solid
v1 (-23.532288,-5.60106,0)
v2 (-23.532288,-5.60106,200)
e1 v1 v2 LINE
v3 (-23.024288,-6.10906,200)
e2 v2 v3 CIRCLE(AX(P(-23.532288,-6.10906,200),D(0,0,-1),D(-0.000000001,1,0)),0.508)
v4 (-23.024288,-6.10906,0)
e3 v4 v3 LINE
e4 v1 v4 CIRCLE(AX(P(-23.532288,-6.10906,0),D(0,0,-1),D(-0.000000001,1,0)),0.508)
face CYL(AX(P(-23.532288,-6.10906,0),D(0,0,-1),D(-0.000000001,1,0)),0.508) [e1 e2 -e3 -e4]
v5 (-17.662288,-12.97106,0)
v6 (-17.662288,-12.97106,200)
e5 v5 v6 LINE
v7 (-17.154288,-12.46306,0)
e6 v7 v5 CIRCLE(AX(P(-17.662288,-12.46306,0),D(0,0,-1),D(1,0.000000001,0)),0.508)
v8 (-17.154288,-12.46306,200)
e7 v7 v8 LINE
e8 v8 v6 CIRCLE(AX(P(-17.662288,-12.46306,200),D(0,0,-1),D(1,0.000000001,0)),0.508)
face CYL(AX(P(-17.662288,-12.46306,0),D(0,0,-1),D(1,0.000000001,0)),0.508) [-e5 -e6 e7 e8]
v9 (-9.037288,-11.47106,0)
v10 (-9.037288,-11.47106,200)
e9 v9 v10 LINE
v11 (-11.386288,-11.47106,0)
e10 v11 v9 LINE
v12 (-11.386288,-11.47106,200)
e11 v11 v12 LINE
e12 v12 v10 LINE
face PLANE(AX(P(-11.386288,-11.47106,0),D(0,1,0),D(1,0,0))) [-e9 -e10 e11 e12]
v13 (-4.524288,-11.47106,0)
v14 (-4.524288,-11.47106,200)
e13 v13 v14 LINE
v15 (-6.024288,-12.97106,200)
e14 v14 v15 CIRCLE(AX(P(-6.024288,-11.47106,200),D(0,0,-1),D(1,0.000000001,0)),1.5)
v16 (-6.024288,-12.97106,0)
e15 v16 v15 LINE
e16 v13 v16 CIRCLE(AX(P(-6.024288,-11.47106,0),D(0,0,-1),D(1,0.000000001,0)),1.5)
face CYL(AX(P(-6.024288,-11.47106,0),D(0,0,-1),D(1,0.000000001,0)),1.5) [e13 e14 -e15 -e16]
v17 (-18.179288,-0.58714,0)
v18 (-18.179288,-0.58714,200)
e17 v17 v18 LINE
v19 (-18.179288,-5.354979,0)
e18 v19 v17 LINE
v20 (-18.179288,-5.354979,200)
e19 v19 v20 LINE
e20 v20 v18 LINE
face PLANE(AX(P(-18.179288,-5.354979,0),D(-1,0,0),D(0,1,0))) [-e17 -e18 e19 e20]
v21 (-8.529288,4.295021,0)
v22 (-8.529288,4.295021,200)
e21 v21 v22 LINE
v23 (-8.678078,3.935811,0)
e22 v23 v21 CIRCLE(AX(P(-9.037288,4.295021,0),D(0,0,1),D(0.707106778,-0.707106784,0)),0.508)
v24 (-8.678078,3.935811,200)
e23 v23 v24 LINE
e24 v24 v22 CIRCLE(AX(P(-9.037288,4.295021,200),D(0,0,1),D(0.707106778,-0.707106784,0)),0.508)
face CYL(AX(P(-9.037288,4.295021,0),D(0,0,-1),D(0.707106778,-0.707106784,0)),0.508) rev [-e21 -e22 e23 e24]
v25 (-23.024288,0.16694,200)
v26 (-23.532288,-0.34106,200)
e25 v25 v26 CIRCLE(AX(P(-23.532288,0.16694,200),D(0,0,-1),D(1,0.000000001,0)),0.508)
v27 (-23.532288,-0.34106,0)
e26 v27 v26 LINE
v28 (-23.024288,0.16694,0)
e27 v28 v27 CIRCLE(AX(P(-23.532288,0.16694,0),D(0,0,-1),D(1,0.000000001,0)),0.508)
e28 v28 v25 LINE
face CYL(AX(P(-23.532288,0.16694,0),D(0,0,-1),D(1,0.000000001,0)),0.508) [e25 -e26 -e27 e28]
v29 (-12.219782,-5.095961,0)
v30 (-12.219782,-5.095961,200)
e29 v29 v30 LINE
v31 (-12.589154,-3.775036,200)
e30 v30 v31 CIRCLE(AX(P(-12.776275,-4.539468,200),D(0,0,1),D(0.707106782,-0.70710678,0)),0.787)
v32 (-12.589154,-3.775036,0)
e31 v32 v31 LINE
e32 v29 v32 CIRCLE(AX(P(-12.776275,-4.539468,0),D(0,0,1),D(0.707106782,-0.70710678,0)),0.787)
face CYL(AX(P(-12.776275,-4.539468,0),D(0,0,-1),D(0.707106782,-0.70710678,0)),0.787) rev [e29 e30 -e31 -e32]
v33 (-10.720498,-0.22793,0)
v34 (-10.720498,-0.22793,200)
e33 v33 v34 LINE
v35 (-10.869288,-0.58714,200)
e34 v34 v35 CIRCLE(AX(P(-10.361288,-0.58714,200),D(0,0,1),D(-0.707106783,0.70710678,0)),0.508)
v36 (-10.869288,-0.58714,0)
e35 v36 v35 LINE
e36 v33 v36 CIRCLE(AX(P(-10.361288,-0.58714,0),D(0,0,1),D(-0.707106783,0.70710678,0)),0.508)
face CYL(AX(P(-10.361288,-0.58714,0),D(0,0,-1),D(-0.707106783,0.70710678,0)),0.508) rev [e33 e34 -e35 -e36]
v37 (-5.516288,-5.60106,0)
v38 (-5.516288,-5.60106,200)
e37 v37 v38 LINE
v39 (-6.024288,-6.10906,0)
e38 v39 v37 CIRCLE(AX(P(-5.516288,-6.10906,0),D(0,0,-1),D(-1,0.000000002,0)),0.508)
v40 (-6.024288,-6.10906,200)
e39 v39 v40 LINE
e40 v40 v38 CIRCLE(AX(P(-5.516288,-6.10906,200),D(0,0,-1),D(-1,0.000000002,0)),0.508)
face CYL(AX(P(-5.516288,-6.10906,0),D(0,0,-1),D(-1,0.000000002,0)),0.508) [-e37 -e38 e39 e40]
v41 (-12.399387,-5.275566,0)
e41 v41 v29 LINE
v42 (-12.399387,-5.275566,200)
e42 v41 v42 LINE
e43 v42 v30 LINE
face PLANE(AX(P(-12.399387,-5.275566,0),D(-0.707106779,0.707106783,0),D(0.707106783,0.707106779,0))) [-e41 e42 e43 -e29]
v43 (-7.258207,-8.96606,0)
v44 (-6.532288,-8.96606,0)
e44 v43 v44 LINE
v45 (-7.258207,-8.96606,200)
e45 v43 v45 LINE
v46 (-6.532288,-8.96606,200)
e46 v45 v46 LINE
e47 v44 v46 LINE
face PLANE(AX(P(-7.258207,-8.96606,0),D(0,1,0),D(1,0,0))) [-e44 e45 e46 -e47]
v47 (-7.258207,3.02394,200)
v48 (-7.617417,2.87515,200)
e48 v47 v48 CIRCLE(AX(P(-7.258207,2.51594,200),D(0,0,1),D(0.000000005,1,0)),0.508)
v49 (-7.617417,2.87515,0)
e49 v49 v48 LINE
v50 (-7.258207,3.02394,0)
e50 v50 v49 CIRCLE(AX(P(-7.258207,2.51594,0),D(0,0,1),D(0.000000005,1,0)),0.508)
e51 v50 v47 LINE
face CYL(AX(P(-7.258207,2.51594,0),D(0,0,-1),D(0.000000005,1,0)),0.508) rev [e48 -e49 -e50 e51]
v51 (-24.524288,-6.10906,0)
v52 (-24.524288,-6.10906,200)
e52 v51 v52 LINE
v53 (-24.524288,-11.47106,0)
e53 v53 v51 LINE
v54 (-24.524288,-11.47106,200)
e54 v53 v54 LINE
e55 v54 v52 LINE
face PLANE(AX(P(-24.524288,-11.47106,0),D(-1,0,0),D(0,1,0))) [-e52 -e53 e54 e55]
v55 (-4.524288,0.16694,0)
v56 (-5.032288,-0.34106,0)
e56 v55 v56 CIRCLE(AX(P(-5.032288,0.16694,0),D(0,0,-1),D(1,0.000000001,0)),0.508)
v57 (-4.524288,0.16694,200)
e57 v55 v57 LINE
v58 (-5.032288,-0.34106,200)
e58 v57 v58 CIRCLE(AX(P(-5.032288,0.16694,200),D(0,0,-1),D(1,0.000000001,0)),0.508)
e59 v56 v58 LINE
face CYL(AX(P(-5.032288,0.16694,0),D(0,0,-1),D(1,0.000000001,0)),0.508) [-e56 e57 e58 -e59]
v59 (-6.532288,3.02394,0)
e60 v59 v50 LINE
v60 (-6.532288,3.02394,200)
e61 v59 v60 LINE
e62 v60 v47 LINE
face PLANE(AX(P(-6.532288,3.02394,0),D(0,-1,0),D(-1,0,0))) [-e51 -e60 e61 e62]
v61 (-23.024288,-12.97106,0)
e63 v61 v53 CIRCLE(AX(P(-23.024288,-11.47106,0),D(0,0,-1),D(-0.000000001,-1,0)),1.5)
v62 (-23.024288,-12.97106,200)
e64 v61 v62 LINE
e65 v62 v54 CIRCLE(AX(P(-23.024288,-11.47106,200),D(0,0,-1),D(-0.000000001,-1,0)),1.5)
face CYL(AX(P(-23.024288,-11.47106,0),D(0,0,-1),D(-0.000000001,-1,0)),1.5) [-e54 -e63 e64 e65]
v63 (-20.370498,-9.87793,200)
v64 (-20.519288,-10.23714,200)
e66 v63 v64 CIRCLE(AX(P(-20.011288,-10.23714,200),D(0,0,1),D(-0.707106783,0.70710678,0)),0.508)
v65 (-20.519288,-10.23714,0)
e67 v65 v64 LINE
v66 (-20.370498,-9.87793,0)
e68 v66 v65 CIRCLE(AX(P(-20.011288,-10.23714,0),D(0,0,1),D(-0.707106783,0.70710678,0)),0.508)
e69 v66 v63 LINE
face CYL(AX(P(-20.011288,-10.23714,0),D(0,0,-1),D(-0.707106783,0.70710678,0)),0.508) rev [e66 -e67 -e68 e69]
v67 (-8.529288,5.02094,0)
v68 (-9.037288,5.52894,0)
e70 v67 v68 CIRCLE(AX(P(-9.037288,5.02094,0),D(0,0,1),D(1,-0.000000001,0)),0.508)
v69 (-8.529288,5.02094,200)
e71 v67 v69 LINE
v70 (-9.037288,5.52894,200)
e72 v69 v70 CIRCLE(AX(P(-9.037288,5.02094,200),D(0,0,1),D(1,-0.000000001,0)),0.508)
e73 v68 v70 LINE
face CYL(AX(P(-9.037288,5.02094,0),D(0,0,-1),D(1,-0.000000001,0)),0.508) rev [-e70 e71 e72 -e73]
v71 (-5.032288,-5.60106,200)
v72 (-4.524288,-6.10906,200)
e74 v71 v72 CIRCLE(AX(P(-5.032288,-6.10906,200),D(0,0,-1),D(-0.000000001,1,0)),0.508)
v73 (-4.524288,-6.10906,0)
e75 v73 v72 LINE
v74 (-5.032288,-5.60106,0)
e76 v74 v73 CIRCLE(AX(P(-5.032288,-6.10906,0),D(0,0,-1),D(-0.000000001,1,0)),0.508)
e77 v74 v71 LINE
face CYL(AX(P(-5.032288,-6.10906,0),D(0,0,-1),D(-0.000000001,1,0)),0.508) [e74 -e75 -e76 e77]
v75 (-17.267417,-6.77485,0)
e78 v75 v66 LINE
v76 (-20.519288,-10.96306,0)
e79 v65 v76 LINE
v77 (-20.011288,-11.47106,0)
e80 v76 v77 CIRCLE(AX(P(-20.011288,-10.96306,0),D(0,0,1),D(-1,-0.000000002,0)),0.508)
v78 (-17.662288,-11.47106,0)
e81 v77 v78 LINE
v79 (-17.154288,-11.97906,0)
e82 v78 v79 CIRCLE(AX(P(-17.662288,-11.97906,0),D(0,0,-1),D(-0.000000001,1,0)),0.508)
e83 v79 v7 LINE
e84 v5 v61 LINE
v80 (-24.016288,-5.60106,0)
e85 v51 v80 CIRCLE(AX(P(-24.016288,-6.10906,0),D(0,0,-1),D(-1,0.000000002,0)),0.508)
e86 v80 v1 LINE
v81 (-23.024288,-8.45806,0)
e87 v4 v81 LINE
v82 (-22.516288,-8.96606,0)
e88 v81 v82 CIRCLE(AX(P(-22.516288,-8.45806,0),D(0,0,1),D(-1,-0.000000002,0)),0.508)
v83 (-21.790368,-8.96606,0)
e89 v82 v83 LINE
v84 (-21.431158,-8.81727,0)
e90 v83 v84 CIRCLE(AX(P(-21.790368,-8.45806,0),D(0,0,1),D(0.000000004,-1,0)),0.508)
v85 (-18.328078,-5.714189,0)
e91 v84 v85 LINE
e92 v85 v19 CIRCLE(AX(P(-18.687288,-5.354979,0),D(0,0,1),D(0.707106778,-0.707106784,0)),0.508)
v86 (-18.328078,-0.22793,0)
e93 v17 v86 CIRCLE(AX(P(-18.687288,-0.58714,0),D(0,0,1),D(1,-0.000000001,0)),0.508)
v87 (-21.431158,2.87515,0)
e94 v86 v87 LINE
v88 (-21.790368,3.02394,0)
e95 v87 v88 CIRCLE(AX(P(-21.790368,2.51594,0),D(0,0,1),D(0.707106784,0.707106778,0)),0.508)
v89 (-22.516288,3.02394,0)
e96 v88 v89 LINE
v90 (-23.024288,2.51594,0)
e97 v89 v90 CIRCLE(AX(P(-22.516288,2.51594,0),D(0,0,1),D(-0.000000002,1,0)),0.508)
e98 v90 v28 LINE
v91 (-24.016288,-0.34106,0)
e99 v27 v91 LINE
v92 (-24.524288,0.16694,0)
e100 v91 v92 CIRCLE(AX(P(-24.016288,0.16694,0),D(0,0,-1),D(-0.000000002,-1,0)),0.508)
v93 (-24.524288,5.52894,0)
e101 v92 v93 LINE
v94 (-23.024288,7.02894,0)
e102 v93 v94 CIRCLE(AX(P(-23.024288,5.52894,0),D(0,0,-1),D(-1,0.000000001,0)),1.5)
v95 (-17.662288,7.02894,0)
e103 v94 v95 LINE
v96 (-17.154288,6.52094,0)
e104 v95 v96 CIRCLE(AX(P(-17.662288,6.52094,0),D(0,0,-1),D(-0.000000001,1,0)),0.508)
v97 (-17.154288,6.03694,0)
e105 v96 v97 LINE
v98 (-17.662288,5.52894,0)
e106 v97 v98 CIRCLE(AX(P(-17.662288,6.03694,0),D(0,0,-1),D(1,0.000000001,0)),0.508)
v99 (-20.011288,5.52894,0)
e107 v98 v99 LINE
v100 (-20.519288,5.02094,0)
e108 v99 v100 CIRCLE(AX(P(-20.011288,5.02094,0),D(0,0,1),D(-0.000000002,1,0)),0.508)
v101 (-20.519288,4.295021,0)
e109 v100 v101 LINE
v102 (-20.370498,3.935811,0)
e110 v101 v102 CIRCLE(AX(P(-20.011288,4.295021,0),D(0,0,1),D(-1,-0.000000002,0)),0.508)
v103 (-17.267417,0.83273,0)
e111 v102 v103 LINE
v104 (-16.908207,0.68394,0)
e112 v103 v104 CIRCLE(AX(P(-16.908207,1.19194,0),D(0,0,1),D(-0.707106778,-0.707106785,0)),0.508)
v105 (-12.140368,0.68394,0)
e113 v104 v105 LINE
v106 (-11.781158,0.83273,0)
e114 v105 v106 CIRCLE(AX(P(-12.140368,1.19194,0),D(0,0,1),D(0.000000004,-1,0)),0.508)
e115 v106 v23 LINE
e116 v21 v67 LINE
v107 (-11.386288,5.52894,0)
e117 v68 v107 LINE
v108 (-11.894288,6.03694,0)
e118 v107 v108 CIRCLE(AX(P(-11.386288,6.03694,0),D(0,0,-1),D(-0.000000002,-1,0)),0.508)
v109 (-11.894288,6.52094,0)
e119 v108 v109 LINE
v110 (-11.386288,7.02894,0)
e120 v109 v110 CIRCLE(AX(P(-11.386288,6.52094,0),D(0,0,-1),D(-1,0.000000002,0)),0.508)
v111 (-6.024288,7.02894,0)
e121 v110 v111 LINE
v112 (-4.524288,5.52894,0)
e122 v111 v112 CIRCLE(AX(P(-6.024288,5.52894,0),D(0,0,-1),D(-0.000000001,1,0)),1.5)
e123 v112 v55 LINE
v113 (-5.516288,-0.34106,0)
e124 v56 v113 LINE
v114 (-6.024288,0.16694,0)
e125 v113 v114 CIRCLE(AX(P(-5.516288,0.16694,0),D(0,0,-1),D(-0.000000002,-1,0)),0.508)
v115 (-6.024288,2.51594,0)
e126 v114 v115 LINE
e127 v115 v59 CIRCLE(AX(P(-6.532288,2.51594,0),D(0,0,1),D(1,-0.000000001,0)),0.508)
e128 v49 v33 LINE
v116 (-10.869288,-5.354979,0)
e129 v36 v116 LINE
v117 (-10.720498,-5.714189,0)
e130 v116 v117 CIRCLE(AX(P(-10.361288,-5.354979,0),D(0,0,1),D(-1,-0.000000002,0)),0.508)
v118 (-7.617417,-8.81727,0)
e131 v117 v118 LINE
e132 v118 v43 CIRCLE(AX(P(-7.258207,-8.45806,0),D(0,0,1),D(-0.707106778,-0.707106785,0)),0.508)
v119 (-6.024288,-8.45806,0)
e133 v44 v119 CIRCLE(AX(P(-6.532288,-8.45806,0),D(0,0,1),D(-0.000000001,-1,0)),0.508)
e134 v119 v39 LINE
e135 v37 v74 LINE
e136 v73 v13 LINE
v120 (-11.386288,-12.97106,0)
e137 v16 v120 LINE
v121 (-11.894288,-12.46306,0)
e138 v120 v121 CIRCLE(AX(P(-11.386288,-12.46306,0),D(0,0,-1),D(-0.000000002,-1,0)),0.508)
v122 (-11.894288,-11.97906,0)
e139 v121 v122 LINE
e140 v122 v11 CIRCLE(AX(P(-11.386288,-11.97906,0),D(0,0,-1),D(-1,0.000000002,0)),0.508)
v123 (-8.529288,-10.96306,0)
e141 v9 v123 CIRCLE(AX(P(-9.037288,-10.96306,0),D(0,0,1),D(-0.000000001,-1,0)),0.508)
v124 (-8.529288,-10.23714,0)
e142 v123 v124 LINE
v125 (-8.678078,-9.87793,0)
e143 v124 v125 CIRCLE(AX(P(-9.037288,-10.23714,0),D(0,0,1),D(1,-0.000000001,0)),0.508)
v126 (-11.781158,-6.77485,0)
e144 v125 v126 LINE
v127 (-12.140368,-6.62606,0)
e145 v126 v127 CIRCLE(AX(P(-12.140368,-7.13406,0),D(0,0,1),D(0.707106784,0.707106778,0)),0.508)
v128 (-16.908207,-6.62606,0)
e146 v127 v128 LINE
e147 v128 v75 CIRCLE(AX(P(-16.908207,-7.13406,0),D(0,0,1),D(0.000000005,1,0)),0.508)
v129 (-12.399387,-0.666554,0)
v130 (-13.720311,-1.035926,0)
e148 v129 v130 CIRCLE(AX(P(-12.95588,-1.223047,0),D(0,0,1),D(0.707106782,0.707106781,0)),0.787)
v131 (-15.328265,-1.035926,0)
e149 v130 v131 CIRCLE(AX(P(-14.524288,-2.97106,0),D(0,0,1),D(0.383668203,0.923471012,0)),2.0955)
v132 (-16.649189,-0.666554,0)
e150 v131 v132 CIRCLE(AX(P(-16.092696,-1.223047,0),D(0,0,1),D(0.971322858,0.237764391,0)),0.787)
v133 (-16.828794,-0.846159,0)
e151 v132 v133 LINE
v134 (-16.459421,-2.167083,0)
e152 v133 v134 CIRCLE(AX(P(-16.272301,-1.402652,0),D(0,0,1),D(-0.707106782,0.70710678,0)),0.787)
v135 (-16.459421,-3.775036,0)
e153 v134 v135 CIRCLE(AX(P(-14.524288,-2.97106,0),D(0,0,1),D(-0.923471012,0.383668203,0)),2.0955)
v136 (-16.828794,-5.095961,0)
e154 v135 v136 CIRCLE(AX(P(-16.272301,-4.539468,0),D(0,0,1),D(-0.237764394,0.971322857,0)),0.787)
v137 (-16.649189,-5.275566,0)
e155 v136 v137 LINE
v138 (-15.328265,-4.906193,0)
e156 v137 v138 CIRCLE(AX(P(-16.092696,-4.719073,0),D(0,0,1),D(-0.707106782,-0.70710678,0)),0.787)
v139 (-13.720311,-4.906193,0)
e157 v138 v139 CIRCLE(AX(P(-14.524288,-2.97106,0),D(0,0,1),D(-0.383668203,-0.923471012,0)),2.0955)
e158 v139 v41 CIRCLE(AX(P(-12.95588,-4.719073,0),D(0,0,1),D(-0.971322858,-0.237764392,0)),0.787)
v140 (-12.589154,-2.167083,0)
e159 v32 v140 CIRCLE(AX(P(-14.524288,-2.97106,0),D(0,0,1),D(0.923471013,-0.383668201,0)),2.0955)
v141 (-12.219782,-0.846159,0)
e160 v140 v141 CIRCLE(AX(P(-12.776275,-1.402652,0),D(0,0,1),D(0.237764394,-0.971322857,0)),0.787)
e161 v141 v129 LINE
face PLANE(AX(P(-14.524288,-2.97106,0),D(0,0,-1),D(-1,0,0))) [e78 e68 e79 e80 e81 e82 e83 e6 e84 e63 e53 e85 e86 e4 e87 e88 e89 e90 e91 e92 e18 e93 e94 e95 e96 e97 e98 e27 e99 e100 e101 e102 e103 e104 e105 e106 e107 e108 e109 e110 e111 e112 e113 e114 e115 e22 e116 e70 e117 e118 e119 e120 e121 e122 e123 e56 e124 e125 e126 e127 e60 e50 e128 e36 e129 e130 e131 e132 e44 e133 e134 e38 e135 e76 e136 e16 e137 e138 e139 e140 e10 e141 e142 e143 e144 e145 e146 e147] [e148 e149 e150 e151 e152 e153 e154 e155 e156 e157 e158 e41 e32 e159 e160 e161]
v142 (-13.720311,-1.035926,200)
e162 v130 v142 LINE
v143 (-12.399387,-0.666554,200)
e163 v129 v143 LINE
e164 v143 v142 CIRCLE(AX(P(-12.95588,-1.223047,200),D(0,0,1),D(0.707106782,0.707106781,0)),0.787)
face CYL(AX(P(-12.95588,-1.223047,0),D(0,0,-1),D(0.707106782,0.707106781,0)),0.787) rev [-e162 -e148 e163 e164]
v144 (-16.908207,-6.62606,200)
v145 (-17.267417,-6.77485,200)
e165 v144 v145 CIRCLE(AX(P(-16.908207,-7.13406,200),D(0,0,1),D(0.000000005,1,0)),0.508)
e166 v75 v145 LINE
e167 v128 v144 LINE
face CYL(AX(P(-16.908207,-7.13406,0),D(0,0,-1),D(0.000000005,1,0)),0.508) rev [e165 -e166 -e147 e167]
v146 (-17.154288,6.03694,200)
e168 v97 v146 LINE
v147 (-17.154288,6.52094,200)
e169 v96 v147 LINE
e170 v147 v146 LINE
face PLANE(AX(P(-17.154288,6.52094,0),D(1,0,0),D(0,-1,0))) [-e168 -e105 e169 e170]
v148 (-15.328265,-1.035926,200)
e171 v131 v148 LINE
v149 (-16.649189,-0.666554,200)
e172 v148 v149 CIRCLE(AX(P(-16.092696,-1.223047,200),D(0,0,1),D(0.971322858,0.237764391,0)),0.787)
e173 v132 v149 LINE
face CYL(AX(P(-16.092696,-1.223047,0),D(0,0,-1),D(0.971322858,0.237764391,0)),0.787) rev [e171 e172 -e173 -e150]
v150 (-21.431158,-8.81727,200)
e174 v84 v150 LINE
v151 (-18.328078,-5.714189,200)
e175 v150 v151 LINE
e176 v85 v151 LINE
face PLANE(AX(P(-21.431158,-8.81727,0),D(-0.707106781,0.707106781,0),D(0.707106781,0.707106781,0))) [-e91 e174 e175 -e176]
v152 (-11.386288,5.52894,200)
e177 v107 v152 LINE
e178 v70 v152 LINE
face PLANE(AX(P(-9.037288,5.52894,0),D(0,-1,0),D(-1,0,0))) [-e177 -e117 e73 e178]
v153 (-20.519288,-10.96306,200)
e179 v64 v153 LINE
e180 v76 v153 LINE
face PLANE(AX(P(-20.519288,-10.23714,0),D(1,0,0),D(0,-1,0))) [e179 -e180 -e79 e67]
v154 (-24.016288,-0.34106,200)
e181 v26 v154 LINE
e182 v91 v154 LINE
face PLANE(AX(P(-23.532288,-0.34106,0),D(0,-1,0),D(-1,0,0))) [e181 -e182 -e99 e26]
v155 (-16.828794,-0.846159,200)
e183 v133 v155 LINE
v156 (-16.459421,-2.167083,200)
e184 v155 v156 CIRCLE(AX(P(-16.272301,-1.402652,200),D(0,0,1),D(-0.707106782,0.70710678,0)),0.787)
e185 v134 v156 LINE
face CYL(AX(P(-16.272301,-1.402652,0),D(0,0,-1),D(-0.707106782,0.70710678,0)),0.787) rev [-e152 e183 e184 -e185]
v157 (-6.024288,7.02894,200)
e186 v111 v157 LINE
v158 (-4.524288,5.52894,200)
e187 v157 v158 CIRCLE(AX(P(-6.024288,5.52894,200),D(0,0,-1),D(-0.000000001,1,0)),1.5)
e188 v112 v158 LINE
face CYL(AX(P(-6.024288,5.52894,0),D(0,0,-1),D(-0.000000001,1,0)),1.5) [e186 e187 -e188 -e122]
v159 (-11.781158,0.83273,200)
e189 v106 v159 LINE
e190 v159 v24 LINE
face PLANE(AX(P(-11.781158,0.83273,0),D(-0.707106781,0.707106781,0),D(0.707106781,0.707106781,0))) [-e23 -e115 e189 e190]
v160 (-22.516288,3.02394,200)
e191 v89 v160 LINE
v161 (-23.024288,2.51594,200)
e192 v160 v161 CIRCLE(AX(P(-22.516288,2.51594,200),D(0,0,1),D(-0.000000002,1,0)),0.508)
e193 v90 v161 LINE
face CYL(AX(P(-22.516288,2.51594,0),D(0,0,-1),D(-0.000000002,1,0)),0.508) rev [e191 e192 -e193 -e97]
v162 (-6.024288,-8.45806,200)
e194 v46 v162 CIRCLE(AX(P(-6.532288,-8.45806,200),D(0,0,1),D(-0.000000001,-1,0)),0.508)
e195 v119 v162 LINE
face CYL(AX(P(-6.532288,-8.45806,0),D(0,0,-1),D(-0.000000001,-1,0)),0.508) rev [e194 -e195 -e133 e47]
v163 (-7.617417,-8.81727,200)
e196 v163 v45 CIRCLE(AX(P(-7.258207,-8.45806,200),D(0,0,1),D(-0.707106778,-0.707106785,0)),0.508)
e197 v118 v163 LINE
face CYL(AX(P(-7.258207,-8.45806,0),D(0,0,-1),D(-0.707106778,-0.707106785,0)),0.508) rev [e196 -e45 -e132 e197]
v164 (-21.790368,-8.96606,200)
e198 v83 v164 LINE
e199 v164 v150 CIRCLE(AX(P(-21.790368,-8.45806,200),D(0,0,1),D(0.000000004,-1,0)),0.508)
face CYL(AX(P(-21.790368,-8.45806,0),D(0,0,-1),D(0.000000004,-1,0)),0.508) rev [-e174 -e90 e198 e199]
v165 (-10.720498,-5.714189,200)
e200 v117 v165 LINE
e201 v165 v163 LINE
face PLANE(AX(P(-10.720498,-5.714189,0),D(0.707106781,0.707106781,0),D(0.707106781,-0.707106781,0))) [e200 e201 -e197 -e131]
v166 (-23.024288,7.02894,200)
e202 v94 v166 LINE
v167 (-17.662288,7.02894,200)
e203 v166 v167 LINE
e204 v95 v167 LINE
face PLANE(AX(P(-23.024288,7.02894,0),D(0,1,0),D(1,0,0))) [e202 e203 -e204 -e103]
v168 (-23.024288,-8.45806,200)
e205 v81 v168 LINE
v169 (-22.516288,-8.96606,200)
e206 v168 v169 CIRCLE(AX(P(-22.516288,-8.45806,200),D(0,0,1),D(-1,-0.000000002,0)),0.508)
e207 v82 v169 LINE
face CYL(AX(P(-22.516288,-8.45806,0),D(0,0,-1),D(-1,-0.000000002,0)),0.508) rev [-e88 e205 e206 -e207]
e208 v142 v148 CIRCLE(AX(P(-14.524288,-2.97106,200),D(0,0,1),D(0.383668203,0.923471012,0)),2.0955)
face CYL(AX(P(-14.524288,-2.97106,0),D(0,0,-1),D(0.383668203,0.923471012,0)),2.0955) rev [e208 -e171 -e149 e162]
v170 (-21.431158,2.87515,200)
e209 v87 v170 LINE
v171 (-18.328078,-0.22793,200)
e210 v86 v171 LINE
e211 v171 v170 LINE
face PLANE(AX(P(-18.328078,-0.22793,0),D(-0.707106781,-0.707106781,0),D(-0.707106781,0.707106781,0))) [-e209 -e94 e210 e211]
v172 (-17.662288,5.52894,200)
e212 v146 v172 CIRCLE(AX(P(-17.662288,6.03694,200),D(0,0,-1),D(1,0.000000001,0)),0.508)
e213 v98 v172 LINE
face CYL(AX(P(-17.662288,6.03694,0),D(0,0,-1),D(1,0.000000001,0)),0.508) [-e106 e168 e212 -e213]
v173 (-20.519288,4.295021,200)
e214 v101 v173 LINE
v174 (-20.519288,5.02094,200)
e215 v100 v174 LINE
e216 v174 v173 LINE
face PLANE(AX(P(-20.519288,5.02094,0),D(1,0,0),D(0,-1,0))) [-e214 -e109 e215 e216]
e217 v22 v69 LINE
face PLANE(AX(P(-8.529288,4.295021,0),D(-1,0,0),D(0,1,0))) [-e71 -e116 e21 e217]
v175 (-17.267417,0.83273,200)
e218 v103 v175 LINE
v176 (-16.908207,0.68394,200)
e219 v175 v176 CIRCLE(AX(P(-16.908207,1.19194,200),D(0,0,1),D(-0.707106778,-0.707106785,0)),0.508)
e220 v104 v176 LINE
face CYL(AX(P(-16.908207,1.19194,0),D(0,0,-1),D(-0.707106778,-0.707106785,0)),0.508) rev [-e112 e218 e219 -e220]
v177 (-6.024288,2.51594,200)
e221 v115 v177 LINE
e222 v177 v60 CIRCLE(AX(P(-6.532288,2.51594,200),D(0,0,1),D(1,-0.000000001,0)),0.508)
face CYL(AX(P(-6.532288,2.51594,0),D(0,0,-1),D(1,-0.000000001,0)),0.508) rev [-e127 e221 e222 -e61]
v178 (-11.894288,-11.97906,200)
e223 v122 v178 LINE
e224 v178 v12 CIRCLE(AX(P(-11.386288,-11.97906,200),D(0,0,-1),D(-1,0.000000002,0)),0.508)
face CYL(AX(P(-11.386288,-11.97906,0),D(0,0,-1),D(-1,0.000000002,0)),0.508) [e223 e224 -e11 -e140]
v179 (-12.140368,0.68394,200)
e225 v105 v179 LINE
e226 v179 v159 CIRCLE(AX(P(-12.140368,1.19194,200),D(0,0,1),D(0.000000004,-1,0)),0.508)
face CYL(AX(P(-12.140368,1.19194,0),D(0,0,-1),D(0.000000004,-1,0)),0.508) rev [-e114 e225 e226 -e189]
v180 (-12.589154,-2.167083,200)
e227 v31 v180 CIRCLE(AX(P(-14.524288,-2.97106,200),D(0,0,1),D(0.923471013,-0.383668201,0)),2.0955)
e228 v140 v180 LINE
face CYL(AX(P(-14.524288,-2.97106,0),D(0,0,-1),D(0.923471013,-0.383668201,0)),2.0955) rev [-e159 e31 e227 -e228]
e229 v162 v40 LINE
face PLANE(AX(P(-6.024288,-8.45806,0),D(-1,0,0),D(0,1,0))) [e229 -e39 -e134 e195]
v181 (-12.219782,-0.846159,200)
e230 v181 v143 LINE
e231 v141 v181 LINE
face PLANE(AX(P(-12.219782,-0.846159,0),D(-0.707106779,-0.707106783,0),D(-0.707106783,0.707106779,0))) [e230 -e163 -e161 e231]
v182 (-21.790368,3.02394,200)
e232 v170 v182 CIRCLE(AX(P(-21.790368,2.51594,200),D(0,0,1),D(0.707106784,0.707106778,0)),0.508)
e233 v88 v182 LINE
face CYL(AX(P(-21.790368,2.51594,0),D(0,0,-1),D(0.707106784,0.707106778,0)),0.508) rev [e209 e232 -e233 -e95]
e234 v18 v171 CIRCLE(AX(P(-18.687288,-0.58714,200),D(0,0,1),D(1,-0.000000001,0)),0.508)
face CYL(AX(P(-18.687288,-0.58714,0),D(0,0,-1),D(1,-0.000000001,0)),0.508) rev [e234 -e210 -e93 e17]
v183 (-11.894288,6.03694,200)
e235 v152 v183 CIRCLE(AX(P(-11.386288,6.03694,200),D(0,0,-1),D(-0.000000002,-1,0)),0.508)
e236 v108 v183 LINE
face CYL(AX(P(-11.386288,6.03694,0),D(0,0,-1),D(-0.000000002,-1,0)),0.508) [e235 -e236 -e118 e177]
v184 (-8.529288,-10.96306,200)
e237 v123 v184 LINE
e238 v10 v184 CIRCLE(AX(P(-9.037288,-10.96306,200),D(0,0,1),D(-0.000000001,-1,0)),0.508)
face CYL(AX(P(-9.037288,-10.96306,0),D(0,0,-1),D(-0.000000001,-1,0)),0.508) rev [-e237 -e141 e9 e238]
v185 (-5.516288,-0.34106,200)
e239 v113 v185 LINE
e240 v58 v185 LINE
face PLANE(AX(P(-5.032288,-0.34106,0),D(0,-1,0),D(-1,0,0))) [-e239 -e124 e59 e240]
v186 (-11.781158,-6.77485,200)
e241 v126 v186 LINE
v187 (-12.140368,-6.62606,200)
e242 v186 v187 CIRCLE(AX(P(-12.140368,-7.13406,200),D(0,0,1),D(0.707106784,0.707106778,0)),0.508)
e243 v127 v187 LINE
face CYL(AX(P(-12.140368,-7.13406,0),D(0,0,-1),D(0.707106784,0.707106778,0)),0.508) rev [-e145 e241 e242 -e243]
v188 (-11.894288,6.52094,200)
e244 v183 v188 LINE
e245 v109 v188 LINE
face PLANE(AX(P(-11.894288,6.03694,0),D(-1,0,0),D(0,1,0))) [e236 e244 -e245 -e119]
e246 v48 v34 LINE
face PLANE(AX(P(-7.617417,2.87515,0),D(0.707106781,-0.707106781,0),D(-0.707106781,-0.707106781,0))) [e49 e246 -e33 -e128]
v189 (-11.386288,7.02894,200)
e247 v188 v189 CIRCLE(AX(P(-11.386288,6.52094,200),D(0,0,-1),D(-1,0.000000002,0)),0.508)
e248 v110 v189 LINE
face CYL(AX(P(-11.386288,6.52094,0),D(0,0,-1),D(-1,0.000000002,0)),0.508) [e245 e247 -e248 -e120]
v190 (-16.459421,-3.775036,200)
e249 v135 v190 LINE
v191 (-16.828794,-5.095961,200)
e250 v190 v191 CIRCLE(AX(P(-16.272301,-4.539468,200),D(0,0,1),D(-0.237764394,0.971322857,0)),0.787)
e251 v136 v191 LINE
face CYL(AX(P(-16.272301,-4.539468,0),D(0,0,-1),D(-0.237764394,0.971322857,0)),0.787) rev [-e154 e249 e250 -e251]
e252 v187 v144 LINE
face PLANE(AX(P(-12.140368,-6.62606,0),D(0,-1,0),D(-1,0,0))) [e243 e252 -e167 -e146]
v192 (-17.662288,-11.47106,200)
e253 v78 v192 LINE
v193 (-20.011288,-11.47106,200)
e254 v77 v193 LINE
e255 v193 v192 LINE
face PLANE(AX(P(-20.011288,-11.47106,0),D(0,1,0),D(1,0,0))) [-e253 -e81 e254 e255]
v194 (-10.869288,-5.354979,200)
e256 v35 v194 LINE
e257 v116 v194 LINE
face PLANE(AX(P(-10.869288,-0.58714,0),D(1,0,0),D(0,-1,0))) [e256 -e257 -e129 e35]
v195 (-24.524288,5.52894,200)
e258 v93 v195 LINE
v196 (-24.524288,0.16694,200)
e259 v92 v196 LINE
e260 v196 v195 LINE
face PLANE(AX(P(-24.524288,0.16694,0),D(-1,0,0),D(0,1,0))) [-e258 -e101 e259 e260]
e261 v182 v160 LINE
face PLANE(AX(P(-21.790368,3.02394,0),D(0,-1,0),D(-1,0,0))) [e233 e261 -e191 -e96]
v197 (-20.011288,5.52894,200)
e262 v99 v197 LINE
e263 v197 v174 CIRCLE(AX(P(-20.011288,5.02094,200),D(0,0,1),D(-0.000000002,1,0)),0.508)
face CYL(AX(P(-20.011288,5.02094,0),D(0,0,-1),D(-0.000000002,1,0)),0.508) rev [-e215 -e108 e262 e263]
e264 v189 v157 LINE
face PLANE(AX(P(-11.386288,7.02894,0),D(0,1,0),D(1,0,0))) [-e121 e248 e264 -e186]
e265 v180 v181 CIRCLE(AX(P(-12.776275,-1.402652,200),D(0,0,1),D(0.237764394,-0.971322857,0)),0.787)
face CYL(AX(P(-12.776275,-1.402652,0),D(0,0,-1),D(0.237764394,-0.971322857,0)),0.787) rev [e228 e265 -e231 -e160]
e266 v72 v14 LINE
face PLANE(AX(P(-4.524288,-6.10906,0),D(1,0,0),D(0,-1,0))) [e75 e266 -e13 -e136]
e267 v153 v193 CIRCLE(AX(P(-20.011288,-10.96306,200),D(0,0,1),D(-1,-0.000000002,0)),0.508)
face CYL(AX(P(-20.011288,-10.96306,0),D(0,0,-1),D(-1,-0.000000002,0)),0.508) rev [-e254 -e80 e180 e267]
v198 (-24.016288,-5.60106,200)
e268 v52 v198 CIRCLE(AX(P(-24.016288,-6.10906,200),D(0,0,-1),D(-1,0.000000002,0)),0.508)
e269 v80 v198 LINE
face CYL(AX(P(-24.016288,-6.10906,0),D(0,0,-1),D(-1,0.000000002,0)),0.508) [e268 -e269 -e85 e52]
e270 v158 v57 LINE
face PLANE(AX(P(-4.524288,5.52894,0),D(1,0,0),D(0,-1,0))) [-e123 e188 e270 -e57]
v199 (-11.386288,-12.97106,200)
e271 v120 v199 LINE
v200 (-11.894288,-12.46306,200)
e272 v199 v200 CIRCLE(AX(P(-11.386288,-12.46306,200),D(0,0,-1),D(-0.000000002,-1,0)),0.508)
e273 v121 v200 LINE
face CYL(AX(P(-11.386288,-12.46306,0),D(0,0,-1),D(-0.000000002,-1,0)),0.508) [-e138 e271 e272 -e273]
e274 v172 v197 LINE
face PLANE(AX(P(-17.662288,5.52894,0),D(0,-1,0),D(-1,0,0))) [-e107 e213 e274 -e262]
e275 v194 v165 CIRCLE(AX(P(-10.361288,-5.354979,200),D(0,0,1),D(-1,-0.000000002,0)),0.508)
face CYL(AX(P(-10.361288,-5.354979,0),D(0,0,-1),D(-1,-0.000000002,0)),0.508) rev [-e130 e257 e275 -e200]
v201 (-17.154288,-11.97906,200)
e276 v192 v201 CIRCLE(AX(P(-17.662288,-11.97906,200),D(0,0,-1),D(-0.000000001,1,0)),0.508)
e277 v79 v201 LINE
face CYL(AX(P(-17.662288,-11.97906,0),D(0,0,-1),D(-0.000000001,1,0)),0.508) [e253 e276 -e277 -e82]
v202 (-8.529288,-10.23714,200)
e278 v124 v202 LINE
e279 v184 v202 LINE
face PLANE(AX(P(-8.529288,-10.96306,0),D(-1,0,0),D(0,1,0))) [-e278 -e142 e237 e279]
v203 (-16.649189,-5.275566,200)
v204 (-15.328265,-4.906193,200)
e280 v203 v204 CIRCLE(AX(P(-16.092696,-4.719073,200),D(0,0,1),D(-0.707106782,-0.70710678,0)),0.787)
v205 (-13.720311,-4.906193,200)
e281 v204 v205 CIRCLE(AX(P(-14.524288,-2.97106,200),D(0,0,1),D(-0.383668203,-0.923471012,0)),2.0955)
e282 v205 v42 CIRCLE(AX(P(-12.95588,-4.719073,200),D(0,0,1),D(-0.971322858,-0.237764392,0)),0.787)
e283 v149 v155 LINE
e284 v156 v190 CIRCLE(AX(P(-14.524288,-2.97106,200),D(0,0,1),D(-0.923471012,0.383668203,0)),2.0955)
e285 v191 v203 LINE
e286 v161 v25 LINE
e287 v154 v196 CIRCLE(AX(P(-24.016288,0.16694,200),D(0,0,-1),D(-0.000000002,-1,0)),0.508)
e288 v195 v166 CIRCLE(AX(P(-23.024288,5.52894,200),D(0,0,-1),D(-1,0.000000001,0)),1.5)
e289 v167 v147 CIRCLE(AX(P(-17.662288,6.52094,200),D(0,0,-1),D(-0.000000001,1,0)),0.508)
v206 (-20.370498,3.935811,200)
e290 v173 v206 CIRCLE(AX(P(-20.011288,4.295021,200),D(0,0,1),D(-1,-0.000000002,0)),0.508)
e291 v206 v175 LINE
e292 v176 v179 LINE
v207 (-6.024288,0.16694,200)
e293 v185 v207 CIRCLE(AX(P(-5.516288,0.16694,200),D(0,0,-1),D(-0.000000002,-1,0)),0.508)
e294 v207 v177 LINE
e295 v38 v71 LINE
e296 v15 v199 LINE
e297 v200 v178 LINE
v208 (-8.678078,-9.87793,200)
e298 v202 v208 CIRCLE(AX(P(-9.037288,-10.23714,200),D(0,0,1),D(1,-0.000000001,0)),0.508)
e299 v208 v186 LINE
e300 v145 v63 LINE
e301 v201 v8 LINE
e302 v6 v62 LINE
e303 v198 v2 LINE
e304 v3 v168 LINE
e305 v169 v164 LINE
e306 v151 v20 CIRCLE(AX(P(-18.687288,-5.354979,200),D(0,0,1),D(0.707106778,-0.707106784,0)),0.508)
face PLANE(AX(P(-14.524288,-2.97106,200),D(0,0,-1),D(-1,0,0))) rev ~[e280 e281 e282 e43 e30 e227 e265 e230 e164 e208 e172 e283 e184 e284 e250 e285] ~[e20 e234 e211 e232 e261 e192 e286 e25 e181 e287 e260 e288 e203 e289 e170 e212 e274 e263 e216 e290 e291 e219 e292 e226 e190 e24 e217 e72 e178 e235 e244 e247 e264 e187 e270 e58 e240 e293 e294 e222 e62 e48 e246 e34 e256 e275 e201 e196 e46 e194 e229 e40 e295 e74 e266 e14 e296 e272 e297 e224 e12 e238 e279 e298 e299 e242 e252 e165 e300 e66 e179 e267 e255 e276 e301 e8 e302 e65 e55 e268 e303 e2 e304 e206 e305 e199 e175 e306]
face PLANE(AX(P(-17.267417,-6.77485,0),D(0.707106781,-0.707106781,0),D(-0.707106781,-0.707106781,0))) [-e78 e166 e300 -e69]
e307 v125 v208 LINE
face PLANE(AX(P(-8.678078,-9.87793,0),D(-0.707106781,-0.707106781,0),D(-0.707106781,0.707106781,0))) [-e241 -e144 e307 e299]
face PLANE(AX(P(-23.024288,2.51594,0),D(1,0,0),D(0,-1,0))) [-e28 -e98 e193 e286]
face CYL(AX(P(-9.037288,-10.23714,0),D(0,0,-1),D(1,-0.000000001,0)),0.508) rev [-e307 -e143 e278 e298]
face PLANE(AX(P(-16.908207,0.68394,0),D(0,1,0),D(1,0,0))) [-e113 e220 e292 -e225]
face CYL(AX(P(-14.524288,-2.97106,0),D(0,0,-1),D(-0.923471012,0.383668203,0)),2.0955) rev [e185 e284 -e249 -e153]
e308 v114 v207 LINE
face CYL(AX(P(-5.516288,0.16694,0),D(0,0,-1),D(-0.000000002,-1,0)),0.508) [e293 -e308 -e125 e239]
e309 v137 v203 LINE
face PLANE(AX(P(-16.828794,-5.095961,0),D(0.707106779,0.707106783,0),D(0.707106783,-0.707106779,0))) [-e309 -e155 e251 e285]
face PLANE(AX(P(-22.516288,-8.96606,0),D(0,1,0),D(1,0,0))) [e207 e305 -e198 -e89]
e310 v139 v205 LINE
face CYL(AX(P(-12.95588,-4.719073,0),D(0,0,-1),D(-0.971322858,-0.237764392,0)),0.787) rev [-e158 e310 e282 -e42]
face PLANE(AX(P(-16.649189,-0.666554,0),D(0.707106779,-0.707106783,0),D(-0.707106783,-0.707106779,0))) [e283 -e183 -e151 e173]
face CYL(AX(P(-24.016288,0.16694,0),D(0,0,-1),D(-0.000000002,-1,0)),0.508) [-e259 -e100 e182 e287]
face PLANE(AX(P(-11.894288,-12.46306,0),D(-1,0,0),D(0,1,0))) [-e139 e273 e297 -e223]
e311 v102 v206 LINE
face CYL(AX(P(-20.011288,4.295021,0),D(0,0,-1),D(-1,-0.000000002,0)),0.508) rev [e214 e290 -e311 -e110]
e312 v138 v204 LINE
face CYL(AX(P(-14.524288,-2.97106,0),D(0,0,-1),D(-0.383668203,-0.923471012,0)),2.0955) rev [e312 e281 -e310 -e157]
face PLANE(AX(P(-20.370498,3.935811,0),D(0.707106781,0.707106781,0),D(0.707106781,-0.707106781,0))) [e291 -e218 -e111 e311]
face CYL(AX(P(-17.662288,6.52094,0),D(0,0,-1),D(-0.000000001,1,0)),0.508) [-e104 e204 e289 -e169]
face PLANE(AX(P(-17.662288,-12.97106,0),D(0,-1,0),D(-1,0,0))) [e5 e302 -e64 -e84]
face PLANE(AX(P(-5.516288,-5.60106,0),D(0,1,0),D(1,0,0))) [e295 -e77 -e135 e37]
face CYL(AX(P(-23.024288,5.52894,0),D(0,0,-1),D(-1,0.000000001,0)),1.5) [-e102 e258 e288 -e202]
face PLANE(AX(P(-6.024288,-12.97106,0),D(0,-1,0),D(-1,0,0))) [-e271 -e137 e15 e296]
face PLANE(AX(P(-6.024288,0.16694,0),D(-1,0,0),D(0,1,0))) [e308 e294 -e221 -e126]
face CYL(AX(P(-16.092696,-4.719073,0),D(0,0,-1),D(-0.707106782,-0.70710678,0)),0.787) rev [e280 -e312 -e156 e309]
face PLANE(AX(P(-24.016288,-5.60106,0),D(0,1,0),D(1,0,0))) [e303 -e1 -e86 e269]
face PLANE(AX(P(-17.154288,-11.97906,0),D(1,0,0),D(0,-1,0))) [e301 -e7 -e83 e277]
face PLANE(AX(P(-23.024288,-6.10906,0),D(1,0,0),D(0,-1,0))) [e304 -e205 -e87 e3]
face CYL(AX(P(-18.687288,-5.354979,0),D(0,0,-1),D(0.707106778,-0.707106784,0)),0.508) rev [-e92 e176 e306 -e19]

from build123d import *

# Parameters (mm, degrees)
EXTRUDE1_DEPTH = 200


with BuildPart() as part:
    # Sketch1 → Extrude1 (new body)
    with BuildSketch(Plane.XY):
        with BuildLine():
            Line((-5.032287798, -0.341059771), (-5.516287798, -0.341059771))
            ThreePointArc((-5.516287798, -0.341059771), (-5.875498042, -0.192270016), (-6.024287798, 0.166940229))
            Line((-6.024287798, 0.166940229), (-6.024287798, 2.515940229))
            ThreePointArc((-6.024287798, 2.515940229), (-6.173077553, 2.875150474), (-6.532287798, 3.023940229))
            Line((-6.532287798, 3.023940229), (-7.258207136, 3.023940229))
            ThreePointArc((-7.258207136, 3.023940229), (-7.45261032, 2.985271032), (-7.617417381, 2.875150474))
            Line((-7.617417381, 2.875150474), (-10.720498042, -0.227930187))
            ThreePointArc((-10.720498042, -0.227930187), (-10.8306186, -0.392737249), (-10.869287798, -0.587140432))
            Line((-10.869287798, -0.587140432), (-10.869287798, -5.354979109))
            ThreePointArc((-10.869287798, -5.354979109), (-10.8306186, -5.549382293), (-10.720498042, -5.714189354))
            Line((-10.720498042, -5.714189354), (-7.617417381, -8.817270016))
            ThreePointArc((-7.617417381, -8.817270016), (-7.45261032, -8.927390573), (-7.258207136, -8.966059771))
            Line((-7.258207136, -8.966059771), (-6.532287798, -8.966059771))
            ThreePointArc((-6.532287798, -8.966059771), (-6.173077553, -8.817270016), (-6.024287798, -8.458059771))
            Line((-6.024287798, -8.458059771), (-6.024287798, -6.109059771))
            ThreePointArc((-6.024287798, -6.109059771), (-5.875498042, -5.749849526), (-5.516287798, -5.601059771))
            Line((-5.516287798, -5.601059771), (-5.032287798, -5.601059771))
            ThreePointArc((-5.032287798, -5.601059771), (-4.673077553, -5.749849526), (-4.524287798, -6.109059771))
            Line((-4.524287798, -6.109059771), (-4.524287798, -11.471059771))
            ThreePointArc((-4.524287798, -11.471059771), (-4.963627626, -12.531719943), (-6.024287798, -12.971059771))
            Line((-6.024287798, -12.971059771), (-11.386287798, -12.971059771))
            ThreePointArc((-11.386287798, -12.971059771), (-11.745498042, -12.822270016), (-11.894287798, -12.463059771))
            Line((-11.894287798, -12.463059771), (-11.894287798, -11.979059771))
            ThreePointArc((-11.894287798, -11.979059771), (-11.745498042, -11.619849526), (-11.386287798, -11.471059771))
            Line((-11.386287798, -11.471059771), (-9.037287798, -11.471059771))
            ThreePointArc((-9.037287798, -11.471059771), (-8.678077553, -11.322270016), (-8.529287798, -10.963059771))
            Line((-8.529287798, -10.963059771), (-8.529287798, -10.237140432))
            ThreePointArc((-8.529287798, -10.237140432), (-8.567956995, -10.042737249), (-8.678077553, -9.877930187))
            Line((-8.678077553, -9.877930187), (-11.781158214, -6.774849526))
            ThreePointArc((-11.781158214, -6.774849526), (-11.945965275, -6.664728968), (-12.140368459, -6.626059771))
            Line((-12.140368459, -6.626059771), (-16.908207136, -6.626059771))
            ThreePointArc((-16.908207136, -6.626059771), (-17.10261032, -6.664728968), (-17.267417381, -6.774849526))
            Line((-17.267417381, -6.774849526), (-20.370498042, -9.877930187))
            ThreePointArc((-20.370498042, -9.877930187), (-20.4806186, -10.042737249), (-20.519287798, -10.237140432))
            Line((-20.519287798, -10.237140432), (-20.519287798, -10.963059771))
            ThreePointArc((-20.519287798, -10.963059771), (-20.370498042, -11.322270016), (-20.011287798, -11.471059771))
            Line((-20.011287798, -11.471059771), (-17.662287798, -11.471059771))
            ThreePointArc((-17.662287798, -11.471059771), (-17.303077553, -11.619849526), (-17.154287798, -11.979059771))
            Line((-17.154287798, -11.979059771), (-17.154287798, -12.463059771))
            ThreePointArc((-17.154287798, -12.463059771), (-17.303077553, -12.822270016), (-17.662287798, -12.971059771))
            Line((-17.662287798, -12.971059771), (-23.024287798, -12.971059771))
            ThreePointArc((-23.024287798, -12.971059771), (-24.084947969, -12.531719943), (-24.524287798, -11.471059771))
            Line((-24.524287798, -11.471059771), (-24.524287798, -6.109059771))
            ThreePointArc((-24.524287798, -6.109059771), (-24.375498042, -5.749849526), (-24.016287798, -5.601059771))
            Line((-24.016287798, -5.601059771), (-23.532287798, -5.601059771))
            ThreePointArc((-23.532287798, -5.601059771), (-23.173077553, -5.749849526), (-23.024287798, -6.109059771))
            Line((-23.024287798, -6.109059771), (-23.024287798, -8.458059771))
            ThreePointArc((-23.024287798, -8.458059771), (-22.875498042, -8.817270016), (-22.516287798, -8.966059771))
            Line((-22.516287798, -8.966059771), (-21.790368459, -8.966059771))
            ThreePointArc((-21.790368459, -8.966059771), (-21.595965275, -8.927390573), (-21.431158214, -8.817270016))
            Line((-21.431158214, -8.817270016), (-18.328077553, -5.714189354))
            ThreePointArc((-18.328077553, -5.714189354), (-18.217956995, -5.549382293), (-18.179287798, -5.354979109))
            Line((-18.179287798, -5.354979109), (-18.179287798, -0.587140432))
            ThreePointArc((-18.179287798, -0.587140432), (-18.217956995, -0.392737249), (-18.328077553, -0.227930187))
            Line((-18.328077553, -0.227930187), (-21.431158214, 2.875150474))
            ThreePointArc((-21.431158214, 2.875150474), (-21.595965275, 2.985271032), (-21.790368459, 3.023940229))
            Line((-21.790368459, 3.023940229), (-22.516287798, 3.023940229))
            ThreePointArc((-22.516287798, 3.023940229), (-22.875498042, 2.875150474), (-23.024287798, 2.515940229))
            Line((-23.024287798, 2.515940229), (-23.024287798, 0.166940229))
            ThreePointArc((-23.024287798, 0.166940229), (-23.173077553, -0.192270016), (-23.532287798, -0.341059771))
            Line((-23.532287798, -0.341059771), (-24.016287798, -0.341059771))
            ThreePointArc((-24.016287798, -0.341059771), (-24.375498042, -0.192270016), (-24.524287798, 0.166940229))
            Line((-24.524287798, 0.166940229), (-24.524287798, 5.528940229))
            ThreePointArc((-24.524287798, 5.528940229), (-24.084947969, 6.589600401), (-23.024287798, 7.028940229))
            Line((-23.024287798, 7.028940229), (-17.662287798, 7.028940229))
            ThreePointArc((-17.662287798, 7.028940229), (-17.303077553, 6.880150474), (-17.154287798, 6.520940229))
            Line((-17.154287798, 6.520940229), (-17.154287798, 6.036940229))
            ThreePointArc((-17.154287798, 6.036940229), (-17.303077553, 5.677729984), (-17.662287798, 5.528940229))
            Line((-17.662287798, 5.528940229), (-20.011287798, 5.528940229))
            ThreePointArc((-20.011287798, 5.528940229), (-20.370498042, 5.380150474), (-20.519287798, 5.020940229))
            Line((-20.519287798, 5.020940229), (-20.519287798, 4.295020891))
            ThreePointArc((-20.519287798, 4.295020891), (-20.4806186, 4.100617707), (-20.370498042, 3.935810646))
            Line((-20.370498042, 3.935810646), (-17.267417381, 0.832729984))
            ThreePointArc((-17.267417381, 0.832729984), (-17.10261032, 0.722609427), (-16.908207136, 0.683940229))
            Line((-16.908207136, 0.683940229), (-12.140368459, 0.683940229))
            ThreePointArc((-12.140368459, 0.683940229), (-11.945965275, 0.722609427), (-11.781158214, 0.832729984))
            Line((-11.781158214, 0.832729984), (-8.678077553, 3.935810646))
            ThreePointArc((-8.678077553, 3.935810646), (-8.567956995, 4.100617707), (-8.529287798, 4.295020891))
            Line((-8.529287798, 4.295020891), (-8.529287798, 5.020940229))
            ThreePointArc((-8.529287798, 5.020940229), (-8.678077553, 5.380150474), (-9.037287798, 5.528940229))
            Line((-9.037287798, 5.528940229), (-11.386287798, 5.528940229))
            ThreePointArc((-11.386287798, 5.528940229), (-11.745498042, 5.677729984), (-11.894287798, 6.036940229))
            Line((-11.894287798, 6.036940229), (-11.894287798, 6.520940229))
            ThreePointArc((-11.894287798, 6.520940229), (-11.745498042, 6.880150474), (-11.386287798, 7.028940229))
            Line((-11.386287798, 7.028940229), (-6.024287798, 7.028940229))
            ThreePointArc((-6.024287798, 7.028940229), (-4.963627626, 6.589600401), (-4.524287798, 5.528940229))
            Line((-4.524287798, 5.528940229), (-4.524287798, 0.166940229))
            ThreePointArc((-4.524287798, 0.166940229), (-4.673077553, -0.192270016), (-5.032287798, -0.341059771))
        make_face()
        with BuildLine():
            Line((-12.399386954, -5.275565737), (-12.219781831, -5.095960615))
            ThreePointArc((-12.219781831, -5.095960615), (-12.018349781, -4.327527582), (-12.589154291, -3.775036489))
            ThreePointArc((-12.589154291, -3.775036489), (-12.428787798, -2.971059771), (-12.589154291, -2.167083053))
            ThreePointArc((-12.589154291, -2.167083053), (-12.018349781, -1.61459196), (-12.219781831, -0.846158927))
            Line((-12.219781831, -0.846158927), (-12.399386954, -0.666553805))
            ThreePointArc((-12.399386954, -0.666553805), (-13.167819987, -0.465121754), (-13.72031108, -1.035926265))
            ThreePointArc((-13.72031108, -1.035926265), (-14.524287798, -0.875559771), (-15.328264516, -1.035926265))
            ThreePointArc((-15.328264516, -1.035926265), (-15.880755608, -0.465121754), (-16.649188641, -0.666553805))
            Line((-16.649188641, -0.666553805), (-16.828793764, -0.846158927))
            ThreePointArc((-16.828793764, -0.846158927), (-17.030225814, -1.61459196), (-16.459421304, -2.167083053))
            ThreePointArc((-16.459421304, -2.167083053), (-16.619787798, -2.971059771), (-16.459421304, -3.775036489))
            ThreePointArc((-16.459421304, -3.775036489), (-17.030225814, -4.327527582), (-16.828793764, -5.095960615))
            Line((-16.828793764, -5.095960615), (-16.649188641, -5.275565737))
            ThreePointArc((-16.649188641, -5.275565737), (-15.880755608, -5.476997788), (-15.328264516, -4.906193277))
            ThreePointArc((-15.328264516, -4.906193277), (-14.524287798, -5.066559771), (-13.72031108, -4.906193277))
            ThreePointArc((-13.72031108, -4.906193277), (-13.167819987, -5.476997788), (-12.399386954, -5.275565737))
        make_face(mode=Mode.SUBTRACT)
    extrude(amount=EXTRUDE1_DEPTH)


solid = part.part
